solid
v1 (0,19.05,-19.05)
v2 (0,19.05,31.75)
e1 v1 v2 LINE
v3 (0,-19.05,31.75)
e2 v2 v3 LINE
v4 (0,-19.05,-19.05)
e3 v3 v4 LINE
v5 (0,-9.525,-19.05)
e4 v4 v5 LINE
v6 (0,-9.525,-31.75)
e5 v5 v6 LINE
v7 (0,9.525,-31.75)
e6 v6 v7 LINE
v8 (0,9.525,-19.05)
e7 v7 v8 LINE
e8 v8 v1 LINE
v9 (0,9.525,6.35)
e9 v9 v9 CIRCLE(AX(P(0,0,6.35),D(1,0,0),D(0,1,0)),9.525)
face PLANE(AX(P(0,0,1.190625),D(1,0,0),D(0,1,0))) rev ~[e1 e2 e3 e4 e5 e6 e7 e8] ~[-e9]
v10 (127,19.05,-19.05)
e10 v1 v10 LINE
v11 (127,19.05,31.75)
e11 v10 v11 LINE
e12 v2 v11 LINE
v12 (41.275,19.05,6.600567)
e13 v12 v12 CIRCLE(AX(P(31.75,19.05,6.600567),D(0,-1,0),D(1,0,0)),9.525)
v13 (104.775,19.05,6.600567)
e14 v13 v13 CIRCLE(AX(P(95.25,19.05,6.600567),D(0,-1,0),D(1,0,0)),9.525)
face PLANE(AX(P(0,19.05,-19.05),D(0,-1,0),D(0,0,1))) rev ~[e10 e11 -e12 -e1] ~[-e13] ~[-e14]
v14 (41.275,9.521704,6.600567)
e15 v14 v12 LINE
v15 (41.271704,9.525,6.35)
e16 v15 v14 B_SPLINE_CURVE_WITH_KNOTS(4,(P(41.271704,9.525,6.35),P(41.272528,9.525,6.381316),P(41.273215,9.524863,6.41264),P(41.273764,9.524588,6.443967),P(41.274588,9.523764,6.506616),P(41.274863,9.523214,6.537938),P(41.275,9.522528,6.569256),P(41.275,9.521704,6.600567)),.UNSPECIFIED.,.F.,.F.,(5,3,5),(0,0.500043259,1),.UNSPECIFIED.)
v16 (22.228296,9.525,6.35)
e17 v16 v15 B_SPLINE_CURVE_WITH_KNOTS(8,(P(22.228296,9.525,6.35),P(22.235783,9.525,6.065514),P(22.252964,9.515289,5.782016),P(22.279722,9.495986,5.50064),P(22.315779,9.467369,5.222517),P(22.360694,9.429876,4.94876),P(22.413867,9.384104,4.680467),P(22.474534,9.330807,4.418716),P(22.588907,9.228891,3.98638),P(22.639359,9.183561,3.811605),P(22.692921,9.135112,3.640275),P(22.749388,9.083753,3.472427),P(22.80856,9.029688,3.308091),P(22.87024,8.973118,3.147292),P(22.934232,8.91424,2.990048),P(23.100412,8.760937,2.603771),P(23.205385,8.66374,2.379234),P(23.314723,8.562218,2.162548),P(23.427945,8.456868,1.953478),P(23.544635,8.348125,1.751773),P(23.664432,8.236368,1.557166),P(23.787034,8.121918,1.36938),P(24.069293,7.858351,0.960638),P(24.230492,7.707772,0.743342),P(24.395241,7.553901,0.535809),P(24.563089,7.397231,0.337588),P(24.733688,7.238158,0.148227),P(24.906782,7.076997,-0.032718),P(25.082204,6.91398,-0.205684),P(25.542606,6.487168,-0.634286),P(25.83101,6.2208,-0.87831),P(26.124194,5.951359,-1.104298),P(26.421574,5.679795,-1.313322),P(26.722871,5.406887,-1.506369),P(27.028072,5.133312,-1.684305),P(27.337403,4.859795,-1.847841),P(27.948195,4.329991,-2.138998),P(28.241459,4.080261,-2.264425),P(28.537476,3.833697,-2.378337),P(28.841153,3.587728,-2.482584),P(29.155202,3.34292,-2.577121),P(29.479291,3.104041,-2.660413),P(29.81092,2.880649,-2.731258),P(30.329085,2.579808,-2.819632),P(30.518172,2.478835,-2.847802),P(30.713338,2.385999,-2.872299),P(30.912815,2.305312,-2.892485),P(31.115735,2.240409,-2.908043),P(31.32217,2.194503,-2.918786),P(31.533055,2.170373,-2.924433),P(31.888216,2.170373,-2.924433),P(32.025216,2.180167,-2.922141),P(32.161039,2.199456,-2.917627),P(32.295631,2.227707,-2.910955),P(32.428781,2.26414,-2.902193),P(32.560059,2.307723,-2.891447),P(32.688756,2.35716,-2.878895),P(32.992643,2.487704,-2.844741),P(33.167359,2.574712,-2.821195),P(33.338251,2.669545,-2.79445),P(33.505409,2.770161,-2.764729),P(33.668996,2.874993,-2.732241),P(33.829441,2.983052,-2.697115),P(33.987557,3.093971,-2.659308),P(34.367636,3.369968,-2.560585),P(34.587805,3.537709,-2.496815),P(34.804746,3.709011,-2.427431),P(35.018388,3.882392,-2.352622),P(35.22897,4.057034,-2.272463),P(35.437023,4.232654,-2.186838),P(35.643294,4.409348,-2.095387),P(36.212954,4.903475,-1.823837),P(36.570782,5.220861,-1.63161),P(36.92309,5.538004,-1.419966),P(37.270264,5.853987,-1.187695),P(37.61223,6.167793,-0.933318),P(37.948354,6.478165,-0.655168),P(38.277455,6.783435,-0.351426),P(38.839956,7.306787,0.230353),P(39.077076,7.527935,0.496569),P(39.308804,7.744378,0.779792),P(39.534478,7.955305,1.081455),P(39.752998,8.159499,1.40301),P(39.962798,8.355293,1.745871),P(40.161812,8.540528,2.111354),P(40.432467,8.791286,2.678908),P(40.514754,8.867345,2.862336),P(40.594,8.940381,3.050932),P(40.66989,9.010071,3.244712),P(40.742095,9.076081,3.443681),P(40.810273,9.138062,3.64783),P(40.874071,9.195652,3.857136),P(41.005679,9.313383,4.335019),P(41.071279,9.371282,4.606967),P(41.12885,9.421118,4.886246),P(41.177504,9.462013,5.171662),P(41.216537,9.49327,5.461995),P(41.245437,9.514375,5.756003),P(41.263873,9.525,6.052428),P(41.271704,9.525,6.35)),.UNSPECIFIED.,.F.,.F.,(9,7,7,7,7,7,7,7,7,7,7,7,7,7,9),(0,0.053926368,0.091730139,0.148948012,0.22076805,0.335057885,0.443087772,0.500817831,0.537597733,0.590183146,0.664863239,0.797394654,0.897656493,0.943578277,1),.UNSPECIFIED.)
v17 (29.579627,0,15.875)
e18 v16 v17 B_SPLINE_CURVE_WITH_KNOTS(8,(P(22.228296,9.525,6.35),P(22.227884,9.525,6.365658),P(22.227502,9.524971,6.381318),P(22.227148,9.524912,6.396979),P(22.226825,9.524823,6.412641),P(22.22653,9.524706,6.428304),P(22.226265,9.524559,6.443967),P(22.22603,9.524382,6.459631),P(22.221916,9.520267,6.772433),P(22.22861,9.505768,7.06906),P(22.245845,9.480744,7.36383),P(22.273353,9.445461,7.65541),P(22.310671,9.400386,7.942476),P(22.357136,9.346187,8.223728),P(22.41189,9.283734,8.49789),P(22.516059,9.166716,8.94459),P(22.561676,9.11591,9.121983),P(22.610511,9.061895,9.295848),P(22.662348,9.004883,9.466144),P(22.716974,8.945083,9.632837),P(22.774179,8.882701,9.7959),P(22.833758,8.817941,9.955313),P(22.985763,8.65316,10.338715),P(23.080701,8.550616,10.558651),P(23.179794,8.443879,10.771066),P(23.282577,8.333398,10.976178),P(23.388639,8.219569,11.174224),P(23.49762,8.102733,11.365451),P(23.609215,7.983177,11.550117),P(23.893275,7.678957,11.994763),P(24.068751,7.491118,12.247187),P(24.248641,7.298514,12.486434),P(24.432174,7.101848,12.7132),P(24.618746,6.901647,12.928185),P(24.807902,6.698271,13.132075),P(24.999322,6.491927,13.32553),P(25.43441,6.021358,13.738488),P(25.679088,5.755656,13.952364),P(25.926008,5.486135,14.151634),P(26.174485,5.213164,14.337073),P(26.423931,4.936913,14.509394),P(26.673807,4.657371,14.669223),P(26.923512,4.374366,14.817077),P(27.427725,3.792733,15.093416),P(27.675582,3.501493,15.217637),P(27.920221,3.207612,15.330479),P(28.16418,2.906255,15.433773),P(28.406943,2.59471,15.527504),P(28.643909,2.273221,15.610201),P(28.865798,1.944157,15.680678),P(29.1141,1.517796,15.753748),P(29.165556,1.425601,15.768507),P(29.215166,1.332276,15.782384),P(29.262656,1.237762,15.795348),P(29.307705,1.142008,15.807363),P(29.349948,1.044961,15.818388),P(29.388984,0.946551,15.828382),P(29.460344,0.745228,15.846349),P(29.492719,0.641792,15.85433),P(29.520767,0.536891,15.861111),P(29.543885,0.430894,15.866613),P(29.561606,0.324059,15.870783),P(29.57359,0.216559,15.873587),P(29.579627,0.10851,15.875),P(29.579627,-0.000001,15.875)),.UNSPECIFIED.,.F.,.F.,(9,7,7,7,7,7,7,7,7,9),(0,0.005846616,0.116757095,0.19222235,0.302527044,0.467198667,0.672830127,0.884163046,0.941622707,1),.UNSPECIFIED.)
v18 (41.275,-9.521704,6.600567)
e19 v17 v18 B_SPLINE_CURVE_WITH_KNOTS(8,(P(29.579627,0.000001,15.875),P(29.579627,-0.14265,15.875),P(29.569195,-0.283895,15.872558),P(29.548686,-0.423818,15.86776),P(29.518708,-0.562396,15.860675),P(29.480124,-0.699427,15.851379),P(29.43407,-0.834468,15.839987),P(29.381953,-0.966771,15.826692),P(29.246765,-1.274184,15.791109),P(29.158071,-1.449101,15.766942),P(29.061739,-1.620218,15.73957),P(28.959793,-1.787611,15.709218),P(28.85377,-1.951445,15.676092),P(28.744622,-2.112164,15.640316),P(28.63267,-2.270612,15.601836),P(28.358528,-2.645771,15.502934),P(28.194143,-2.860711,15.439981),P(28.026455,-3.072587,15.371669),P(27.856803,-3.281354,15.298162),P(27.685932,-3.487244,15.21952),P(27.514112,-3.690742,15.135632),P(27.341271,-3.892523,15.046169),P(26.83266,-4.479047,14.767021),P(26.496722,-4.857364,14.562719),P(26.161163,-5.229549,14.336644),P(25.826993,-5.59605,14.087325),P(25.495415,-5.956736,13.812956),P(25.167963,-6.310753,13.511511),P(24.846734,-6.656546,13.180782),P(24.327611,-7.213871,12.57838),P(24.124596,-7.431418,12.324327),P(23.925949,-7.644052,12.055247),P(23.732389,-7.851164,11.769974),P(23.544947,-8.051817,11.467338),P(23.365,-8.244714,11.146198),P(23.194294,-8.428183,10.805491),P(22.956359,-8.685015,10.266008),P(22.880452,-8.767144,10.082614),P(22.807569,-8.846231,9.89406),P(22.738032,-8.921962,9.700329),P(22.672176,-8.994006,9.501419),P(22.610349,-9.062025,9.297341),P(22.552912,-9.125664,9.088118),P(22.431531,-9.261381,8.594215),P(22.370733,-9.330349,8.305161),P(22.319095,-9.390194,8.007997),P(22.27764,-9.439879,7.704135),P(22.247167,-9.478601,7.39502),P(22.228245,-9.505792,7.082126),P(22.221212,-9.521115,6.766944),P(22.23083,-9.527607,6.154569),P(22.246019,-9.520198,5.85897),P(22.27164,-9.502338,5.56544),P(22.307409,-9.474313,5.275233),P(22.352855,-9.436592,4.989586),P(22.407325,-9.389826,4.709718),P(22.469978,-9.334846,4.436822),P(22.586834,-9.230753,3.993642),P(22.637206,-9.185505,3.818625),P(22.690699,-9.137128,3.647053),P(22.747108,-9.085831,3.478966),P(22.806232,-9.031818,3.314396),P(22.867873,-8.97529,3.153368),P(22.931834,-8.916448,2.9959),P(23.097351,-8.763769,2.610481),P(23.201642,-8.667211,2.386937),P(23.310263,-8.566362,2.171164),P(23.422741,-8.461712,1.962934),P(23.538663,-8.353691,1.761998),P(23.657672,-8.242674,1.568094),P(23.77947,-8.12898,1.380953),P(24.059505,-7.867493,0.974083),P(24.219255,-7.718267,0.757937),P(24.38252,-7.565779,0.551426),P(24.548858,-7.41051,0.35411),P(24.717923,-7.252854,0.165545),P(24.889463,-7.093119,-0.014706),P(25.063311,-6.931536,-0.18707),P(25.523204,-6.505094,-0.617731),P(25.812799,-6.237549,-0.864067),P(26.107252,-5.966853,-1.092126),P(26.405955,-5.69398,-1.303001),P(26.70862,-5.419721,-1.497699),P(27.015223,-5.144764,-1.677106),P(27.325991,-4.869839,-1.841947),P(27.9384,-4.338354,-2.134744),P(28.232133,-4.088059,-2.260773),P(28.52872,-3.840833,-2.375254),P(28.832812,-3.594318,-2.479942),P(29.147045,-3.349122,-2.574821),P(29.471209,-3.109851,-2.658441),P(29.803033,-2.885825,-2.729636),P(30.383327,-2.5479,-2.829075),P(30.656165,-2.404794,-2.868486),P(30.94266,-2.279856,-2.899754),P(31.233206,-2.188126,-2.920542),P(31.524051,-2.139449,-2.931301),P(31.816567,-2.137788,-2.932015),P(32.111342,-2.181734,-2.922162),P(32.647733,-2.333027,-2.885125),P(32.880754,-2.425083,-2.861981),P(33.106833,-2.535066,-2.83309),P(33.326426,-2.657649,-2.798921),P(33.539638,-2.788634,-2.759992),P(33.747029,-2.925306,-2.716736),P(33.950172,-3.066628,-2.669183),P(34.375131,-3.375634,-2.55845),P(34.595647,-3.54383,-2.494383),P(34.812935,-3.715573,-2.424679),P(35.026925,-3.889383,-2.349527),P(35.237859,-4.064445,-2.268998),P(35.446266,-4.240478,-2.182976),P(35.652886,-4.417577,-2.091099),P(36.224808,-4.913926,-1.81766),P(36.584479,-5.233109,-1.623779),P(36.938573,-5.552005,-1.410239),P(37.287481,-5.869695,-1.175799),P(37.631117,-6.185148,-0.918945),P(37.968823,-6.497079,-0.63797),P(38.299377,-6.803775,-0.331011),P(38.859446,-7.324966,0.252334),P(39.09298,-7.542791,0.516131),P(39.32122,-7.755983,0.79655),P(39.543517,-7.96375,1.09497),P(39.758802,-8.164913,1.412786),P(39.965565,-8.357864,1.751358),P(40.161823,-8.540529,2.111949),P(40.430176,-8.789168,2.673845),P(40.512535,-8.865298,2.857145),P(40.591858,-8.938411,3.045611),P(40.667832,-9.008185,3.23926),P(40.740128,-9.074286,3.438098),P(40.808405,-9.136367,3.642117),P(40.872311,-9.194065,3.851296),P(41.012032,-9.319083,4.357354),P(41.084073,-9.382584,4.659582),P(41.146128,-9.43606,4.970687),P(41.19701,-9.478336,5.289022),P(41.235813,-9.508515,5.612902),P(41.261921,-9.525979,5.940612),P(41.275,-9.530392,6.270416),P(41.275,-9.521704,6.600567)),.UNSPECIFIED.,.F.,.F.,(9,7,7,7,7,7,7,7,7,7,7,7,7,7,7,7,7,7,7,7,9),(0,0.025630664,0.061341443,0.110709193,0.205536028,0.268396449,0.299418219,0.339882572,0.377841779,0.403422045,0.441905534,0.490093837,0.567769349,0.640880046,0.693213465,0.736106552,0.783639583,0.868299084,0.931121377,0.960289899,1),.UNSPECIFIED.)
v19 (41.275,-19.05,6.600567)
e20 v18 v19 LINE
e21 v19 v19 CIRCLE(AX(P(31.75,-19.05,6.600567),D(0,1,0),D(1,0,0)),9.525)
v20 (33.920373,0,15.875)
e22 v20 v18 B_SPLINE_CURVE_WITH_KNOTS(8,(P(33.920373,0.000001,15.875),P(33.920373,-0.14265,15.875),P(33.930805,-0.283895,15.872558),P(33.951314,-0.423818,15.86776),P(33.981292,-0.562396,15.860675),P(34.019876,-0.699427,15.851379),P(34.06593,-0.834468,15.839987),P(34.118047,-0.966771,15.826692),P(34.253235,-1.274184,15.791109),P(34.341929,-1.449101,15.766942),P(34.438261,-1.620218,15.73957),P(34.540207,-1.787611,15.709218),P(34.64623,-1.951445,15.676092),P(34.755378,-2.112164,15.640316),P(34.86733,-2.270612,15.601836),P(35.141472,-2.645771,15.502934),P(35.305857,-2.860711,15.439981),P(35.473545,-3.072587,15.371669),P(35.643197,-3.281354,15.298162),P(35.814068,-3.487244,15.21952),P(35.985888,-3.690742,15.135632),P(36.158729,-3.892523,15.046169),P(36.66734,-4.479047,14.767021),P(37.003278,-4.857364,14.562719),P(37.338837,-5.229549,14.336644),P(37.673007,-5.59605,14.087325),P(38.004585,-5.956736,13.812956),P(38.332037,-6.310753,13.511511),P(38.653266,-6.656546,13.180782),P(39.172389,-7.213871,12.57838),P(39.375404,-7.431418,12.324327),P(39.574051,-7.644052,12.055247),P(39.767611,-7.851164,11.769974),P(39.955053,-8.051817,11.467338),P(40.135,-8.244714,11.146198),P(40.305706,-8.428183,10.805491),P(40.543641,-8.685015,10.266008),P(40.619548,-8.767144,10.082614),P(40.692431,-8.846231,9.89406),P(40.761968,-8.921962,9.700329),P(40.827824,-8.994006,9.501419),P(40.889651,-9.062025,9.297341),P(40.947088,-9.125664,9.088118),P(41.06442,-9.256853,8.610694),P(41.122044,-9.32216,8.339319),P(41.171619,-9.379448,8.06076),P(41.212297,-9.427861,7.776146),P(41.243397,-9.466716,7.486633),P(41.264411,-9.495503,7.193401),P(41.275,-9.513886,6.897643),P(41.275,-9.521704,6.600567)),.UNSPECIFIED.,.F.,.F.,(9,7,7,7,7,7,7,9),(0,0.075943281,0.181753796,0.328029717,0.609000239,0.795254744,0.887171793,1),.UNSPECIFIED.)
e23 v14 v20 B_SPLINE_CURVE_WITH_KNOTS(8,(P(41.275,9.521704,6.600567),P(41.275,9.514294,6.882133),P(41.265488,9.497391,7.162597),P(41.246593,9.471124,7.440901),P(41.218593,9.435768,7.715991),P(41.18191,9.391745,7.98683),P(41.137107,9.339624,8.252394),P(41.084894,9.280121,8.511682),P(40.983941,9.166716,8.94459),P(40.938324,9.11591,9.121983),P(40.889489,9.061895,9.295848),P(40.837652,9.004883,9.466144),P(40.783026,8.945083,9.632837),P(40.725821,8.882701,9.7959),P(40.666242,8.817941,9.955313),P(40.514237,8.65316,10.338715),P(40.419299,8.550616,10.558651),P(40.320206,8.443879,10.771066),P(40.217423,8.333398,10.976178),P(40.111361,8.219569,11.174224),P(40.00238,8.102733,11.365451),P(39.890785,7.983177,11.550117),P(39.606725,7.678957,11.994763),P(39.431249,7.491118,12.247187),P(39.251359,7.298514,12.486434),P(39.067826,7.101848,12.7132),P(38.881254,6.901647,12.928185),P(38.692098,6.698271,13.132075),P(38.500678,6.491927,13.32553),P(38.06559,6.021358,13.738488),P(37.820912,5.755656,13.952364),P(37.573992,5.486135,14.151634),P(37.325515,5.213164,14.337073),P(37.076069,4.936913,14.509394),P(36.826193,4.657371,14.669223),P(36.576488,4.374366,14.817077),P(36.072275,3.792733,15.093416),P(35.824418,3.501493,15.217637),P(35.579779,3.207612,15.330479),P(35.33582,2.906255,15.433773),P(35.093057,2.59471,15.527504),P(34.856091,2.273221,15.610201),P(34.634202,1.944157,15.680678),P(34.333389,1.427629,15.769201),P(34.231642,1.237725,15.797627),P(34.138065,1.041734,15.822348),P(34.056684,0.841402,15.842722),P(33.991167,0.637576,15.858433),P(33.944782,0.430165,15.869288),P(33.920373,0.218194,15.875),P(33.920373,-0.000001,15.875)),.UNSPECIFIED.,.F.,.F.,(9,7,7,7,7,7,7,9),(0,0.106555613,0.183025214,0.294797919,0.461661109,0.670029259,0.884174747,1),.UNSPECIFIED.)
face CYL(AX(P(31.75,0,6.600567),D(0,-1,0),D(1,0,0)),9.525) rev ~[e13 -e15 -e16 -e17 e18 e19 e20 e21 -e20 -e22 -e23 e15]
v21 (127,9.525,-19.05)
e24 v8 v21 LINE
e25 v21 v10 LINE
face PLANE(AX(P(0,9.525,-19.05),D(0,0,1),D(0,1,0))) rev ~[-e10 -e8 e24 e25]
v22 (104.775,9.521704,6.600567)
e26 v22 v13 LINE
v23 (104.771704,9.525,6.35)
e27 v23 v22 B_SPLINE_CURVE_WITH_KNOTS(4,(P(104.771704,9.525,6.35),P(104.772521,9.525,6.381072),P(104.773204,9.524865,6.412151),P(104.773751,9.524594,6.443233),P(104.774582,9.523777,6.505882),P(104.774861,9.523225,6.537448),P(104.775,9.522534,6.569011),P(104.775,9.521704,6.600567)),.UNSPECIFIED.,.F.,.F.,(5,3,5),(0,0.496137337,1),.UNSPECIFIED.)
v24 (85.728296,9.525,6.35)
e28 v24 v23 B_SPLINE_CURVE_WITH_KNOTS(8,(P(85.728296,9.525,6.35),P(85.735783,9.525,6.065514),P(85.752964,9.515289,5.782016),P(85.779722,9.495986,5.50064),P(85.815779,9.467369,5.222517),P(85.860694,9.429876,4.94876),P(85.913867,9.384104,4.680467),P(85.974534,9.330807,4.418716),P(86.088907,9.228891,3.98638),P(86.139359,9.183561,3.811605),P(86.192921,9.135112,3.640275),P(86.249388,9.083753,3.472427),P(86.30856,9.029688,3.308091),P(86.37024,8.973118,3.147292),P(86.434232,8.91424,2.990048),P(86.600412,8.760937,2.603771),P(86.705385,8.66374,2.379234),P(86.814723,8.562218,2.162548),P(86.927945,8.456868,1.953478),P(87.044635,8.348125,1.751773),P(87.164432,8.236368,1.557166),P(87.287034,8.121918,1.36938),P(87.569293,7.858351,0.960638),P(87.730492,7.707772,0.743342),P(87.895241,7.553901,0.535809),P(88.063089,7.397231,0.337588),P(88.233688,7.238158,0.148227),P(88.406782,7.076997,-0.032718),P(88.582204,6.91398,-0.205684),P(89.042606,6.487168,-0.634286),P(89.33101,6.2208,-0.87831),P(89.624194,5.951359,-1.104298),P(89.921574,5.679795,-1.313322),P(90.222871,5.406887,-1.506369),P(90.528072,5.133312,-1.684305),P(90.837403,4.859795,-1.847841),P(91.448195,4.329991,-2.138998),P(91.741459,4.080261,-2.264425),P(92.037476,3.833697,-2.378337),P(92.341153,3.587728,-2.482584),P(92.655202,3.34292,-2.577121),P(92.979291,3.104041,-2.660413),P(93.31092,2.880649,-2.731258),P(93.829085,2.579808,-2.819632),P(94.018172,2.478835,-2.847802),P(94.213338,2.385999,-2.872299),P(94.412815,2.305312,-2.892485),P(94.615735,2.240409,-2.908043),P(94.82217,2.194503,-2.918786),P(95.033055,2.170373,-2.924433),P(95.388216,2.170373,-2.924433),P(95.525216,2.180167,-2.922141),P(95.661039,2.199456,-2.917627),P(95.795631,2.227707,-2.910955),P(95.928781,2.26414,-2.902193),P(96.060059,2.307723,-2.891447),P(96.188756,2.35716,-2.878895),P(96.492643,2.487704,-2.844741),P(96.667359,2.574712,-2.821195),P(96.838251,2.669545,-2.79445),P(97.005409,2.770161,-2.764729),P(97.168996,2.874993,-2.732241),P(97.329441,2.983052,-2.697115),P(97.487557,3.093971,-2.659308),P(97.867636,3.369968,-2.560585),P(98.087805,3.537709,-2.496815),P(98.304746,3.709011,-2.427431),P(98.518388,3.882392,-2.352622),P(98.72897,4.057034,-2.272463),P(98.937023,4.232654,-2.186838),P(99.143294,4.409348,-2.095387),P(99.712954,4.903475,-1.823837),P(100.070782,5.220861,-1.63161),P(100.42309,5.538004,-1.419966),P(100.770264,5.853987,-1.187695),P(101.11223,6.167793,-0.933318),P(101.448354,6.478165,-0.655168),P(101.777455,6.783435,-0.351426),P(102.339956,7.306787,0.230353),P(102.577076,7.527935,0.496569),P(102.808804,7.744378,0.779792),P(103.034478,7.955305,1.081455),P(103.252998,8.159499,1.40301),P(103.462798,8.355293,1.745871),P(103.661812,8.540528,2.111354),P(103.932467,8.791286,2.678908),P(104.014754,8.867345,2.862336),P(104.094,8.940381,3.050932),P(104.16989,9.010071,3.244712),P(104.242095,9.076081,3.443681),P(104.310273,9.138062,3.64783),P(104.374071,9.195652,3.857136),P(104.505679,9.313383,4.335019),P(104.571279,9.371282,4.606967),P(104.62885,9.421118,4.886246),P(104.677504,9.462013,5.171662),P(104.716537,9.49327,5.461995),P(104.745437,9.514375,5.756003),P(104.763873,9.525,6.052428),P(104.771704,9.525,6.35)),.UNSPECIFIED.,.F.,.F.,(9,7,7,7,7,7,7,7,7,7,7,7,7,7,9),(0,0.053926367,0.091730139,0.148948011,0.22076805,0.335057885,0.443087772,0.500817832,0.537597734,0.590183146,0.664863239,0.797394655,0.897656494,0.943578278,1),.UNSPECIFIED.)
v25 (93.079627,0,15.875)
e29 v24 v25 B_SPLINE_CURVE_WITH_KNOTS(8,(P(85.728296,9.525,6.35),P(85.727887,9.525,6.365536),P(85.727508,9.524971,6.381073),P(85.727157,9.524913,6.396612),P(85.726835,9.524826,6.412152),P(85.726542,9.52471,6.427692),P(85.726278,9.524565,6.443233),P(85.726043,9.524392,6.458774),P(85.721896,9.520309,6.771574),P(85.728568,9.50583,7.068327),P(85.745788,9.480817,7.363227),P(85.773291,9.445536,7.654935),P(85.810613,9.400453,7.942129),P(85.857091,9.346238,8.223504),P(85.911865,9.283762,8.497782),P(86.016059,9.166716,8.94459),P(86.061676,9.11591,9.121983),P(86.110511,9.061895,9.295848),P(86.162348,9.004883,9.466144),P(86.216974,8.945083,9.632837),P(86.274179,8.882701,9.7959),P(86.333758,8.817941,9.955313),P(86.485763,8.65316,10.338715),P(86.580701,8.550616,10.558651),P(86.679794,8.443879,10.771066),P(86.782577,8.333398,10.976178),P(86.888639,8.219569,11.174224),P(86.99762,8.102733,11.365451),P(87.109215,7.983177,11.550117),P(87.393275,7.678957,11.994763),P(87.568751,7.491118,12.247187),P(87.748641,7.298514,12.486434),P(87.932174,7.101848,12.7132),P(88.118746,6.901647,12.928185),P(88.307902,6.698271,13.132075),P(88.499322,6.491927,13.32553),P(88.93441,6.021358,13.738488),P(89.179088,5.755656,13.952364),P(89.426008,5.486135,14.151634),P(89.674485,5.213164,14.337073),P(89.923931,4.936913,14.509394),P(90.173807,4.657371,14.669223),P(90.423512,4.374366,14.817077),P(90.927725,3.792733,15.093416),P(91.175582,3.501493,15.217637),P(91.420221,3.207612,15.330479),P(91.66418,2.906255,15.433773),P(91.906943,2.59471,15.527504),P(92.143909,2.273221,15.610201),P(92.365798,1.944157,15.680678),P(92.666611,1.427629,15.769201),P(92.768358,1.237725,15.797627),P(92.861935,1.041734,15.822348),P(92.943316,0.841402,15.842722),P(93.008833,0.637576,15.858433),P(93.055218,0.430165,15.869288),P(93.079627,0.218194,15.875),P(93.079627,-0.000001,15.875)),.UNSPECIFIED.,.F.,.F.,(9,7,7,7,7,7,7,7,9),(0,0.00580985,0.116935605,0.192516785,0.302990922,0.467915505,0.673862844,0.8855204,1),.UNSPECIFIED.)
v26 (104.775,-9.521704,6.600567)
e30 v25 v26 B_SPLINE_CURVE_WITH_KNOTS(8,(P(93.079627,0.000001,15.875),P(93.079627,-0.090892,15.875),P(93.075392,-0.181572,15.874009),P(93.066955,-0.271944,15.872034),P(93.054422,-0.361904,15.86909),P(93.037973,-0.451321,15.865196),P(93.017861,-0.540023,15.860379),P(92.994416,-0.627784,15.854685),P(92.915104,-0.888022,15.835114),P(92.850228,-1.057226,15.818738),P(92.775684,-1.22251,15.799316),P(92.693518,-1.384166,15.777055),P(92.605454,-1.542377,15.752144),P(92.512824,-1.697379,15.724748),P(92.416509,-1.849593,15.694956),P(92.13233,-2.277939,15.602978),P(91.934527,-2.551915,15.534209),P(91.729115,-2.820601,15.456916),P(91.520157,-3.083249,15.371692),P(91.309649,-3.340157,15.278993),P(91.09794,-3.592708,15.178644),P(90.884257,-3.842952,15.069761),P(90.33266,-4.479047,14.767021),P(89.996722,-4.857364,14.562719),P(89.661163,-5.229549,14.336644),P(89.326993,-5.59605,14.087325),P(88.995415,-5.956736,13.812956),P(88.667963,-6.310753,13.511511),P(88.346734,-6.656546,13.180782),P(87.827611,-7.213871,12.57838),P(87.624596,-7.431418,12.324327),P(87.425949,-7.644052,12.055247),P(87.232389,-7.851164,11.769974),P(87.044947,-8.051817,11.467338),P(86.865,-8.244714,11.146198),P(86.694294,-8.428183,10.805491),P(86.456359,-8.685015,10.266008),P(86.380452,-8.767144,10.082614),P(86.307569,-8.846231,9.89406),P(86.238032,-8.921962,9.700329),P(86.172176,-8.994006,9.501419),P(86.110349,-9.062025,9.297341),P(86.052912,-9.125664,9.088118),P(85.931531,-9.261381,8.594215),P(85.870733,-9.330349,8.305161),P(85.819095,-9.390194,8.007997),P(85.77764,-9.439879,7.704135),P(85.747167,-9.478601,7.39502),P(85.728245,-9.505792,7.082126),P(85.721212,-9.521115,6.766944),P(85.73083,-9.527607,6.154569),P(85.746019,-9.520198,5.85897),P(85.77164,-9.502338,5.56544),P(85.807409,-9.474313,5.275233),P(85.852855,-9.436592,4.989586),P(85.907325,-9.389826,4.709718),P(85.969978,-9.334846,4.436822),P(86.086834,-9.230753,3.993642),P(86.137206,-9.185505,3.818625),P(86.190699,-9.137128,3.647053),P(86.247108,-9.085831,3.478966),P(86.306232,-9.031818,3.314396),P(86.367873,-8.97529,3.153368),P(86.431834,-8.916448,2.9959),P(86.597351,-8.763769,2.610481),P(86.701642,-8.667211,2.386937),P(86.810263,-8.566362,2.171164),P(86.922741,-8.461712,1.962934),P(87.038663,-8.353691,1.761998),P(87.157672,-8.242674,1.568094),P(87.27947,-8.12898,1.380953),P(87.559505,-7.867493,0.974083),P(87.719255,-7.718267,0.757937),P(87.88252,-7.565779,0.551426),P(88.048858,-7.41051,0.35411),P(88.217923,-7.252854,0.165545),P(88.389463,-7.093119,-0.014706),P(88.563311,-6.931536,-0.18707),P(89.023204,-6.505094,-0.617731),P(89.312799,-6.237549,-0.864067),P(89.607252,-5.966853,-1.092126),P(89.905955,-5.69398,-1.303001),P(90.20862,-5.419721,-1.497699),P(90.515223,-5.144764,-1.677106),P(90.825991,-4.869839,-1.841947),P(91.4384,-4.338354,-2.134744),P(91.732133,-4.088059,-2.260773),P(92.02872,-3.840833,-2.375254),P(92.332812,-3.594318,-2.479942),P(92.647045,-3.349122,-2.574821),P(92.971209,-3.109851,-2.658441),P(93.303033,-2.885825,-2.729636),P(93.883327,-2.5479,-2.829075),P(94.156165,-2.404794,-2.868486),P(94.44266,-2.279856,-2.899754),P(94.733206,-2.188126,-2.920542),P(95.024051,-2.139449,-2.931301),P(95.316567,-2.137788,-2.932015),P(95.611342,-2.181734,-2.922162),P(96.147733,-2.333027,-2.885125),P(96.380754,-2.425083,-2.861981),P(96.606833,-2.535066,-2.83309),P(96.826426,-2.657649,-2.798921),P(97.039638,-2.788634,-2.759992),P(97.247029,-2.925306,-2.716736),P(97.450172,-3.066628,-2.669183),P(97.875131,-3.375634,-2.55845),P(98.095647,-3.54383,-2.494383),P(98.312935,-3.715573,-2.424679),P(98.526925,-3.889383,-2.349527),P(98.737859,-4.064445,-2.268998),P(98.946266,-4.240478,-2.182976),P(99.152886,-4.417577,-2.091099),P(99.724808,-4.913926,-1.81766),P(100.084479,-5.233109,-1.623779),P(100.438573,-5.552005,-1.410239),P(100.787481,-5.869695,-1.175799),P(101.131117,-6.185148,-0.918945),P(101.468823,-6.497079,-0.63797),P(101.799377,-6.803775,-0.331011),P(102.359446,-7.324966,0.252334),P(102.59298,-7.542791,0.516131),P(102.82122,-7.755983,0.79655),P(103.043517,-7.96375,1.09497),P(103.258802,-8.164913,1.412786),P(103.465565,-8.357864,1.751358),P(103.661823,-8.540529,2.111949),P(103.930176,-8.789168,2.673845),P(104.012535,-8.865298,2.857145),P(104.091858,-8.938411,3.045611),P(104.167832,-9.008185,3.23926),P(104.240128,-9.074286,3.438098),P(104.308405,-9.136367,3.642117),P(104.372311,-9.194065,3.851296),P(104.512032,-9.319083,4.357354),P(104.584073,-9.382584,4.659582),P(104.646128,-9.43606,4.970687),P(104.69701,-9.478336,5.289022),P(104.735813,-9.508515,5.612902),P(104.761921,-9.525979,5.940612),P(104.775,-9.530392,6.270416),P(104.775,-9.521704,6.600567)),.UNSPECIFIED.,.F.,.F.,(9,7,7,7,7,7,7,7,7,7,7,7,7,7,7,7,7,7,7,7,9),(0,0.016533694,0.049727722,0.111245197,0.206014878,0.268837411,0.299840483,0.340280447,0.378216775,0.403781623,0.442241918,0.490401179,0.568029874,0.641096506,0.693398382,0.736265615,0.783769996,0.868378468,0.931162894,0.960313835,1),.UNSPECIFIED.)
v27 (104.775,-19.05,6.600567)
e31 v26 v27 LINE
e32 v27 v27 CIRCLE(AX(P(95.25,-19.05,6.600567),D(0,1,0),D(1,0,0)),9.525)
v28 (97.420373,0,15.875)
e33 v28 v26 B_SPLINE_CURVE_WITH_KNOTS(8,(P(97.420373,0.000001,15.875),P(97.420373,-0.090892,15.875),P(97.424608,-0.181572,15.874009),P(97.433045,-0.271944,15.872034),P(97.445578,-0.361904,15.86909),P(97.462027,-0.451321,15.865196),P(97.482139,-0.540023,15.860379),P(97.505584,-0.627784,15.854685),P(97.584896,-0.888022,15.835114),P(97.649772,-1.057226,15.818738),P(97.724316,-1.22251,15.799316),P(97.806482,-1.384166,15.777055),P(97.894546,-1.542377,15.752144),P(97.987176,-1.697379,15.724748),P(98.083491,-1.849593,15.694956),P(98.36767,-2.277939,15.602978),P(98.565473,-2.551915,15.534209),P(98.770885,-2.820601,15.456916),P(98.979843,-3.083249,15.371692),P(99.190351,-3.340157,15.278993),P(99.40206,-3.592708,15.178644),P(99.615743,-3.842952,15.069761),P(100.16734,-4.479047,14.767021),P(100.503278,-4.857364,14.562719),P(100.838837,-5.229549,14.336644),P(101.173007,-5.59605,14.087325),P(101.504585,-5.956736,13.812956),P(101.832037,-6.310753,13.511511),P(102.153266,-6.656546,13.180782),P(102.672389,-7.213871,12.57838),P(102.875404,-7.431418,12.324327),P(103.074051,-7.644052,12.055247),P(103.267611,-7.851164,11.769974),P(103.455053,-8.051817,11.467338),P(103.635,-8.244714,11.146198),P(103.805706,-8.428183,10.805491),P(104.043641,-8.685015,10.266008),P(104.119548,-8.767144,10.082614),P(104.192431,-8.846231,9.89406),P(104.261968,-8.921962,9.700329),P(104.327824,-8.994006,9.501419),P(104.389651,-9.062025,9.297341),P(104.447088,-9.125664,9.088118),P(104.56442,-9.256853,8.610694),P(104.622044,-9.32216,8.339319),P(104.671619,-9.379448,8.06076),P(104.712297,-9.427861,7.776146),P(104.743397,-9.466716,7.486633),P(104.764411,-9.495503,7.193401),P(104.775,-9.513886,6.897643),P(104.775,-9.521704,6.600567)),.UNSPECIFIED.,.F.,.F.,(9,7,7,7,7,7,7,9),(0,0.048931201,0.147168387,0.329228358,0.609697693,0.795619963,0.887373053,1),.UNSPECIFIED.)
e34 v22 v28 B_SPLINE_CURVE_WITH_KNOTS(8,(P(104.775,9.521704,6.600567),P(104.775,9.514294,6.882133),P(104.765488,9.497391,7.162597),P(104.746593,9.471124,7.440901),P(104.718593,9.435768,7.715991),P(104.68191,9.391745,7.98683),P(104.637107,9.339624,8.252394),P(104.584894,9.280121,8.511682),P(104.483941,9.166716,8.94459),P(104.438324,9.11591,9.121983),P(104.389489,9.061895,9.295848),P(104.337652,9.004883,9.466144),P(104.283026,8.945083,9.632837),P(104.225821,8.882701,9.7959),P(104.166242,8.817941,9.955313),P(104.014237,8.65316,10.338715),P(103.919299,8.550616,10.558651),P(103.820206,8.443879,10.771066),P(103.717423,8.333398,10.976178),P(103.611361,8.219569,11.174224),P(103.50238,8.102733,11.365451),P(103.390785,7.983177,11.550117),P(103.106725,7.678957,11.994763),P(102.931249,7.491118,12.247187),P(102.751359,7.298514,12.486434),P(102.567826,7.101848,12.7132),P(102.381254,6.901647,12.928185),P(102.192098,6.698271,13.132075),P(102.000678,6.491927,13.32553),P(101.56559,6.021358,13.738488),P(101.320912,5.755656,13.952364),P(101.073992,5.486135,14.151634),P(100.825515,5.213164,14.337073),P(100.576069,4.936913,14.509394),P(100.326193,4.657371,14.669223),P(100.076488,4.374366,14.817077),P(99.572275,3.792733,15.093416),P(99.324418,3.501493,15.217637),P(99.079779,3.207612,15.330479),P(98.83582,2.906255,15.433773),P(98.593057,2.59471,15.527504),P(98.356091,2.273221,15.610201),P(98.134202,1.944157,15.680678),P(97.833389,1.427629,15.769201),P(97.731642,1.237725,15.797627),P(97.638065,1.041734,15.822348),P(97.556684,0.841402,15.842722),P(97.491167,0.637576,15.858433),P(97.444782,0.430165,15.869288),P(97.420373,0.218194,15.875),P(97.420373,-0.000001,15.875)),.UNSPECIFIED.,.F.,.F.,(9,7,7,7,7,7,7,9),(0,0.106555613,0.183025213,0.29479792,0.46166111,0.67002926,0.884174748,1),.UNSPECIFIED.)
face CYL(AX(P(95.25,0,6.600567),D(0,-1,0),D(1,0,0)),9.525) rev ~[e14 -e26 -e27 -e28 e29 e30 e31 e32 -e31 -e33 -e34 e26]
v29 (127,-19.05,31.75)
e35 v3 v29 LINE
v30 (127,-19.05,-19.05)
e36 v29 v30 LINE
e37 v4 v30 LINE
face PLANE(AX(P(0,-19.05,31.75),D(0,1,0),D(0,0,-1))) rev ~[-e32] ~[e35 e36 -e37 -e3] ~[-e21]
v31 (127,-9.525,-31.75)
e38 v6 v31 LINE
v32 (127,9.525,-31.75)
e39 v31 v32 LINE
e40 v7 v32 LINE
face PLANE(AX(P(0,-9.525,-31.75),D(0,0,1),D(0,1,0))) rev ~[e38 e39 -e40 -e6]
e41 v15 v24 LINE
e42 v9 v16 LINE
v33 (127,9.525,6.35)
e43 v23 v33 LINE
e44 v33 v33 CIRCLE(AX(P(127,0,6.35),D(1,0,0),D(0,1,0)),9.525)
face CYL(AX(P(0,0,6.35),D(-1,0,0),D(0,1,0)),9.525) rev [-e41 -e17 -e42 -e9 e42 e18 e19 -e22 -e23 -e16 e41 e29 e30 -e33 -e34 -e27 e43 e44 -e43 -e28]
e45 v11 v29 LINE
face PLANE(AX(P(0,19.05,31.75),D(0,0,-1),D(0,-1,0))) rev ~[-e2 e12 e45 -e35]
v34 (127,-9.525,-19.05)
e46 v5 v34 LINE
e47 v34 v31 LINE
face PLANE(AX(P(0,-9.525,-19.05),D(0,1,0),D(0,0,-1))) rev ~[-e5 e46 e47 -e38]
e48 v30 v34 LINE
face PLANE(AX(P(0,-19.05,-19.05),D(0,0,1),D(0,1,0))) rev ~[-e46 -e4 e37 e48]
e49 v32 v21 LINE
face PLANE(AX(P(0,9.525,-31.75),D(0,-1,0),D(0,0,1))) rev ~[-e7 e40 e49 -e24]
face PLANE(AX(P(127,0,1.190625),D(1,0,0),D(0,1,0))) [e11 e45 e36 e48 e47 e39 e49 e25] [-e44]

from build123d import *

# Parameters (mm, degrees)
F0_R          = 9.525
F1_DEPTH      = 127
F2_R          = 9.525
F3_DEPTH      = 46.228
F3_DEPTH_BACK = 48.514


with BuildPart() as f1:
    # F0 (on Right) → F1 (new body)
    with BuildSketch(Plane.YZ):
        Polygon((19.05, -19.05), (19.05, 31.75), (-19.05, 31.75), (-19.05, -19.05), (-9.525, -19.05), (-9.525, -31.75), (9.525, -31.75), (9.525, -19.05), align=None)
        with Locations((0, 6.35)):
            Circle(F0_R, mode=Mode.SUBTRACT)
    extrude(amount=F1_DEPTH)

    # F2 (on Front) → F3 (cut, two sides)
    with BuildSketch(Plane.XZ) as f3_sk:
        with Locations((31.75, 6.600567)):
            Circle(F2_R)
        with Locations((95.25, 6.600567)):
            Circle(F2_R)
    extrude(amount=F3_DEPTH, mode=Mode.SUBTRACT)
    extrude(f3_sk.sketch, amount=-F3_DEPTH_BACK, mode=Mode.SUBTRACT)


solid = f1.part
